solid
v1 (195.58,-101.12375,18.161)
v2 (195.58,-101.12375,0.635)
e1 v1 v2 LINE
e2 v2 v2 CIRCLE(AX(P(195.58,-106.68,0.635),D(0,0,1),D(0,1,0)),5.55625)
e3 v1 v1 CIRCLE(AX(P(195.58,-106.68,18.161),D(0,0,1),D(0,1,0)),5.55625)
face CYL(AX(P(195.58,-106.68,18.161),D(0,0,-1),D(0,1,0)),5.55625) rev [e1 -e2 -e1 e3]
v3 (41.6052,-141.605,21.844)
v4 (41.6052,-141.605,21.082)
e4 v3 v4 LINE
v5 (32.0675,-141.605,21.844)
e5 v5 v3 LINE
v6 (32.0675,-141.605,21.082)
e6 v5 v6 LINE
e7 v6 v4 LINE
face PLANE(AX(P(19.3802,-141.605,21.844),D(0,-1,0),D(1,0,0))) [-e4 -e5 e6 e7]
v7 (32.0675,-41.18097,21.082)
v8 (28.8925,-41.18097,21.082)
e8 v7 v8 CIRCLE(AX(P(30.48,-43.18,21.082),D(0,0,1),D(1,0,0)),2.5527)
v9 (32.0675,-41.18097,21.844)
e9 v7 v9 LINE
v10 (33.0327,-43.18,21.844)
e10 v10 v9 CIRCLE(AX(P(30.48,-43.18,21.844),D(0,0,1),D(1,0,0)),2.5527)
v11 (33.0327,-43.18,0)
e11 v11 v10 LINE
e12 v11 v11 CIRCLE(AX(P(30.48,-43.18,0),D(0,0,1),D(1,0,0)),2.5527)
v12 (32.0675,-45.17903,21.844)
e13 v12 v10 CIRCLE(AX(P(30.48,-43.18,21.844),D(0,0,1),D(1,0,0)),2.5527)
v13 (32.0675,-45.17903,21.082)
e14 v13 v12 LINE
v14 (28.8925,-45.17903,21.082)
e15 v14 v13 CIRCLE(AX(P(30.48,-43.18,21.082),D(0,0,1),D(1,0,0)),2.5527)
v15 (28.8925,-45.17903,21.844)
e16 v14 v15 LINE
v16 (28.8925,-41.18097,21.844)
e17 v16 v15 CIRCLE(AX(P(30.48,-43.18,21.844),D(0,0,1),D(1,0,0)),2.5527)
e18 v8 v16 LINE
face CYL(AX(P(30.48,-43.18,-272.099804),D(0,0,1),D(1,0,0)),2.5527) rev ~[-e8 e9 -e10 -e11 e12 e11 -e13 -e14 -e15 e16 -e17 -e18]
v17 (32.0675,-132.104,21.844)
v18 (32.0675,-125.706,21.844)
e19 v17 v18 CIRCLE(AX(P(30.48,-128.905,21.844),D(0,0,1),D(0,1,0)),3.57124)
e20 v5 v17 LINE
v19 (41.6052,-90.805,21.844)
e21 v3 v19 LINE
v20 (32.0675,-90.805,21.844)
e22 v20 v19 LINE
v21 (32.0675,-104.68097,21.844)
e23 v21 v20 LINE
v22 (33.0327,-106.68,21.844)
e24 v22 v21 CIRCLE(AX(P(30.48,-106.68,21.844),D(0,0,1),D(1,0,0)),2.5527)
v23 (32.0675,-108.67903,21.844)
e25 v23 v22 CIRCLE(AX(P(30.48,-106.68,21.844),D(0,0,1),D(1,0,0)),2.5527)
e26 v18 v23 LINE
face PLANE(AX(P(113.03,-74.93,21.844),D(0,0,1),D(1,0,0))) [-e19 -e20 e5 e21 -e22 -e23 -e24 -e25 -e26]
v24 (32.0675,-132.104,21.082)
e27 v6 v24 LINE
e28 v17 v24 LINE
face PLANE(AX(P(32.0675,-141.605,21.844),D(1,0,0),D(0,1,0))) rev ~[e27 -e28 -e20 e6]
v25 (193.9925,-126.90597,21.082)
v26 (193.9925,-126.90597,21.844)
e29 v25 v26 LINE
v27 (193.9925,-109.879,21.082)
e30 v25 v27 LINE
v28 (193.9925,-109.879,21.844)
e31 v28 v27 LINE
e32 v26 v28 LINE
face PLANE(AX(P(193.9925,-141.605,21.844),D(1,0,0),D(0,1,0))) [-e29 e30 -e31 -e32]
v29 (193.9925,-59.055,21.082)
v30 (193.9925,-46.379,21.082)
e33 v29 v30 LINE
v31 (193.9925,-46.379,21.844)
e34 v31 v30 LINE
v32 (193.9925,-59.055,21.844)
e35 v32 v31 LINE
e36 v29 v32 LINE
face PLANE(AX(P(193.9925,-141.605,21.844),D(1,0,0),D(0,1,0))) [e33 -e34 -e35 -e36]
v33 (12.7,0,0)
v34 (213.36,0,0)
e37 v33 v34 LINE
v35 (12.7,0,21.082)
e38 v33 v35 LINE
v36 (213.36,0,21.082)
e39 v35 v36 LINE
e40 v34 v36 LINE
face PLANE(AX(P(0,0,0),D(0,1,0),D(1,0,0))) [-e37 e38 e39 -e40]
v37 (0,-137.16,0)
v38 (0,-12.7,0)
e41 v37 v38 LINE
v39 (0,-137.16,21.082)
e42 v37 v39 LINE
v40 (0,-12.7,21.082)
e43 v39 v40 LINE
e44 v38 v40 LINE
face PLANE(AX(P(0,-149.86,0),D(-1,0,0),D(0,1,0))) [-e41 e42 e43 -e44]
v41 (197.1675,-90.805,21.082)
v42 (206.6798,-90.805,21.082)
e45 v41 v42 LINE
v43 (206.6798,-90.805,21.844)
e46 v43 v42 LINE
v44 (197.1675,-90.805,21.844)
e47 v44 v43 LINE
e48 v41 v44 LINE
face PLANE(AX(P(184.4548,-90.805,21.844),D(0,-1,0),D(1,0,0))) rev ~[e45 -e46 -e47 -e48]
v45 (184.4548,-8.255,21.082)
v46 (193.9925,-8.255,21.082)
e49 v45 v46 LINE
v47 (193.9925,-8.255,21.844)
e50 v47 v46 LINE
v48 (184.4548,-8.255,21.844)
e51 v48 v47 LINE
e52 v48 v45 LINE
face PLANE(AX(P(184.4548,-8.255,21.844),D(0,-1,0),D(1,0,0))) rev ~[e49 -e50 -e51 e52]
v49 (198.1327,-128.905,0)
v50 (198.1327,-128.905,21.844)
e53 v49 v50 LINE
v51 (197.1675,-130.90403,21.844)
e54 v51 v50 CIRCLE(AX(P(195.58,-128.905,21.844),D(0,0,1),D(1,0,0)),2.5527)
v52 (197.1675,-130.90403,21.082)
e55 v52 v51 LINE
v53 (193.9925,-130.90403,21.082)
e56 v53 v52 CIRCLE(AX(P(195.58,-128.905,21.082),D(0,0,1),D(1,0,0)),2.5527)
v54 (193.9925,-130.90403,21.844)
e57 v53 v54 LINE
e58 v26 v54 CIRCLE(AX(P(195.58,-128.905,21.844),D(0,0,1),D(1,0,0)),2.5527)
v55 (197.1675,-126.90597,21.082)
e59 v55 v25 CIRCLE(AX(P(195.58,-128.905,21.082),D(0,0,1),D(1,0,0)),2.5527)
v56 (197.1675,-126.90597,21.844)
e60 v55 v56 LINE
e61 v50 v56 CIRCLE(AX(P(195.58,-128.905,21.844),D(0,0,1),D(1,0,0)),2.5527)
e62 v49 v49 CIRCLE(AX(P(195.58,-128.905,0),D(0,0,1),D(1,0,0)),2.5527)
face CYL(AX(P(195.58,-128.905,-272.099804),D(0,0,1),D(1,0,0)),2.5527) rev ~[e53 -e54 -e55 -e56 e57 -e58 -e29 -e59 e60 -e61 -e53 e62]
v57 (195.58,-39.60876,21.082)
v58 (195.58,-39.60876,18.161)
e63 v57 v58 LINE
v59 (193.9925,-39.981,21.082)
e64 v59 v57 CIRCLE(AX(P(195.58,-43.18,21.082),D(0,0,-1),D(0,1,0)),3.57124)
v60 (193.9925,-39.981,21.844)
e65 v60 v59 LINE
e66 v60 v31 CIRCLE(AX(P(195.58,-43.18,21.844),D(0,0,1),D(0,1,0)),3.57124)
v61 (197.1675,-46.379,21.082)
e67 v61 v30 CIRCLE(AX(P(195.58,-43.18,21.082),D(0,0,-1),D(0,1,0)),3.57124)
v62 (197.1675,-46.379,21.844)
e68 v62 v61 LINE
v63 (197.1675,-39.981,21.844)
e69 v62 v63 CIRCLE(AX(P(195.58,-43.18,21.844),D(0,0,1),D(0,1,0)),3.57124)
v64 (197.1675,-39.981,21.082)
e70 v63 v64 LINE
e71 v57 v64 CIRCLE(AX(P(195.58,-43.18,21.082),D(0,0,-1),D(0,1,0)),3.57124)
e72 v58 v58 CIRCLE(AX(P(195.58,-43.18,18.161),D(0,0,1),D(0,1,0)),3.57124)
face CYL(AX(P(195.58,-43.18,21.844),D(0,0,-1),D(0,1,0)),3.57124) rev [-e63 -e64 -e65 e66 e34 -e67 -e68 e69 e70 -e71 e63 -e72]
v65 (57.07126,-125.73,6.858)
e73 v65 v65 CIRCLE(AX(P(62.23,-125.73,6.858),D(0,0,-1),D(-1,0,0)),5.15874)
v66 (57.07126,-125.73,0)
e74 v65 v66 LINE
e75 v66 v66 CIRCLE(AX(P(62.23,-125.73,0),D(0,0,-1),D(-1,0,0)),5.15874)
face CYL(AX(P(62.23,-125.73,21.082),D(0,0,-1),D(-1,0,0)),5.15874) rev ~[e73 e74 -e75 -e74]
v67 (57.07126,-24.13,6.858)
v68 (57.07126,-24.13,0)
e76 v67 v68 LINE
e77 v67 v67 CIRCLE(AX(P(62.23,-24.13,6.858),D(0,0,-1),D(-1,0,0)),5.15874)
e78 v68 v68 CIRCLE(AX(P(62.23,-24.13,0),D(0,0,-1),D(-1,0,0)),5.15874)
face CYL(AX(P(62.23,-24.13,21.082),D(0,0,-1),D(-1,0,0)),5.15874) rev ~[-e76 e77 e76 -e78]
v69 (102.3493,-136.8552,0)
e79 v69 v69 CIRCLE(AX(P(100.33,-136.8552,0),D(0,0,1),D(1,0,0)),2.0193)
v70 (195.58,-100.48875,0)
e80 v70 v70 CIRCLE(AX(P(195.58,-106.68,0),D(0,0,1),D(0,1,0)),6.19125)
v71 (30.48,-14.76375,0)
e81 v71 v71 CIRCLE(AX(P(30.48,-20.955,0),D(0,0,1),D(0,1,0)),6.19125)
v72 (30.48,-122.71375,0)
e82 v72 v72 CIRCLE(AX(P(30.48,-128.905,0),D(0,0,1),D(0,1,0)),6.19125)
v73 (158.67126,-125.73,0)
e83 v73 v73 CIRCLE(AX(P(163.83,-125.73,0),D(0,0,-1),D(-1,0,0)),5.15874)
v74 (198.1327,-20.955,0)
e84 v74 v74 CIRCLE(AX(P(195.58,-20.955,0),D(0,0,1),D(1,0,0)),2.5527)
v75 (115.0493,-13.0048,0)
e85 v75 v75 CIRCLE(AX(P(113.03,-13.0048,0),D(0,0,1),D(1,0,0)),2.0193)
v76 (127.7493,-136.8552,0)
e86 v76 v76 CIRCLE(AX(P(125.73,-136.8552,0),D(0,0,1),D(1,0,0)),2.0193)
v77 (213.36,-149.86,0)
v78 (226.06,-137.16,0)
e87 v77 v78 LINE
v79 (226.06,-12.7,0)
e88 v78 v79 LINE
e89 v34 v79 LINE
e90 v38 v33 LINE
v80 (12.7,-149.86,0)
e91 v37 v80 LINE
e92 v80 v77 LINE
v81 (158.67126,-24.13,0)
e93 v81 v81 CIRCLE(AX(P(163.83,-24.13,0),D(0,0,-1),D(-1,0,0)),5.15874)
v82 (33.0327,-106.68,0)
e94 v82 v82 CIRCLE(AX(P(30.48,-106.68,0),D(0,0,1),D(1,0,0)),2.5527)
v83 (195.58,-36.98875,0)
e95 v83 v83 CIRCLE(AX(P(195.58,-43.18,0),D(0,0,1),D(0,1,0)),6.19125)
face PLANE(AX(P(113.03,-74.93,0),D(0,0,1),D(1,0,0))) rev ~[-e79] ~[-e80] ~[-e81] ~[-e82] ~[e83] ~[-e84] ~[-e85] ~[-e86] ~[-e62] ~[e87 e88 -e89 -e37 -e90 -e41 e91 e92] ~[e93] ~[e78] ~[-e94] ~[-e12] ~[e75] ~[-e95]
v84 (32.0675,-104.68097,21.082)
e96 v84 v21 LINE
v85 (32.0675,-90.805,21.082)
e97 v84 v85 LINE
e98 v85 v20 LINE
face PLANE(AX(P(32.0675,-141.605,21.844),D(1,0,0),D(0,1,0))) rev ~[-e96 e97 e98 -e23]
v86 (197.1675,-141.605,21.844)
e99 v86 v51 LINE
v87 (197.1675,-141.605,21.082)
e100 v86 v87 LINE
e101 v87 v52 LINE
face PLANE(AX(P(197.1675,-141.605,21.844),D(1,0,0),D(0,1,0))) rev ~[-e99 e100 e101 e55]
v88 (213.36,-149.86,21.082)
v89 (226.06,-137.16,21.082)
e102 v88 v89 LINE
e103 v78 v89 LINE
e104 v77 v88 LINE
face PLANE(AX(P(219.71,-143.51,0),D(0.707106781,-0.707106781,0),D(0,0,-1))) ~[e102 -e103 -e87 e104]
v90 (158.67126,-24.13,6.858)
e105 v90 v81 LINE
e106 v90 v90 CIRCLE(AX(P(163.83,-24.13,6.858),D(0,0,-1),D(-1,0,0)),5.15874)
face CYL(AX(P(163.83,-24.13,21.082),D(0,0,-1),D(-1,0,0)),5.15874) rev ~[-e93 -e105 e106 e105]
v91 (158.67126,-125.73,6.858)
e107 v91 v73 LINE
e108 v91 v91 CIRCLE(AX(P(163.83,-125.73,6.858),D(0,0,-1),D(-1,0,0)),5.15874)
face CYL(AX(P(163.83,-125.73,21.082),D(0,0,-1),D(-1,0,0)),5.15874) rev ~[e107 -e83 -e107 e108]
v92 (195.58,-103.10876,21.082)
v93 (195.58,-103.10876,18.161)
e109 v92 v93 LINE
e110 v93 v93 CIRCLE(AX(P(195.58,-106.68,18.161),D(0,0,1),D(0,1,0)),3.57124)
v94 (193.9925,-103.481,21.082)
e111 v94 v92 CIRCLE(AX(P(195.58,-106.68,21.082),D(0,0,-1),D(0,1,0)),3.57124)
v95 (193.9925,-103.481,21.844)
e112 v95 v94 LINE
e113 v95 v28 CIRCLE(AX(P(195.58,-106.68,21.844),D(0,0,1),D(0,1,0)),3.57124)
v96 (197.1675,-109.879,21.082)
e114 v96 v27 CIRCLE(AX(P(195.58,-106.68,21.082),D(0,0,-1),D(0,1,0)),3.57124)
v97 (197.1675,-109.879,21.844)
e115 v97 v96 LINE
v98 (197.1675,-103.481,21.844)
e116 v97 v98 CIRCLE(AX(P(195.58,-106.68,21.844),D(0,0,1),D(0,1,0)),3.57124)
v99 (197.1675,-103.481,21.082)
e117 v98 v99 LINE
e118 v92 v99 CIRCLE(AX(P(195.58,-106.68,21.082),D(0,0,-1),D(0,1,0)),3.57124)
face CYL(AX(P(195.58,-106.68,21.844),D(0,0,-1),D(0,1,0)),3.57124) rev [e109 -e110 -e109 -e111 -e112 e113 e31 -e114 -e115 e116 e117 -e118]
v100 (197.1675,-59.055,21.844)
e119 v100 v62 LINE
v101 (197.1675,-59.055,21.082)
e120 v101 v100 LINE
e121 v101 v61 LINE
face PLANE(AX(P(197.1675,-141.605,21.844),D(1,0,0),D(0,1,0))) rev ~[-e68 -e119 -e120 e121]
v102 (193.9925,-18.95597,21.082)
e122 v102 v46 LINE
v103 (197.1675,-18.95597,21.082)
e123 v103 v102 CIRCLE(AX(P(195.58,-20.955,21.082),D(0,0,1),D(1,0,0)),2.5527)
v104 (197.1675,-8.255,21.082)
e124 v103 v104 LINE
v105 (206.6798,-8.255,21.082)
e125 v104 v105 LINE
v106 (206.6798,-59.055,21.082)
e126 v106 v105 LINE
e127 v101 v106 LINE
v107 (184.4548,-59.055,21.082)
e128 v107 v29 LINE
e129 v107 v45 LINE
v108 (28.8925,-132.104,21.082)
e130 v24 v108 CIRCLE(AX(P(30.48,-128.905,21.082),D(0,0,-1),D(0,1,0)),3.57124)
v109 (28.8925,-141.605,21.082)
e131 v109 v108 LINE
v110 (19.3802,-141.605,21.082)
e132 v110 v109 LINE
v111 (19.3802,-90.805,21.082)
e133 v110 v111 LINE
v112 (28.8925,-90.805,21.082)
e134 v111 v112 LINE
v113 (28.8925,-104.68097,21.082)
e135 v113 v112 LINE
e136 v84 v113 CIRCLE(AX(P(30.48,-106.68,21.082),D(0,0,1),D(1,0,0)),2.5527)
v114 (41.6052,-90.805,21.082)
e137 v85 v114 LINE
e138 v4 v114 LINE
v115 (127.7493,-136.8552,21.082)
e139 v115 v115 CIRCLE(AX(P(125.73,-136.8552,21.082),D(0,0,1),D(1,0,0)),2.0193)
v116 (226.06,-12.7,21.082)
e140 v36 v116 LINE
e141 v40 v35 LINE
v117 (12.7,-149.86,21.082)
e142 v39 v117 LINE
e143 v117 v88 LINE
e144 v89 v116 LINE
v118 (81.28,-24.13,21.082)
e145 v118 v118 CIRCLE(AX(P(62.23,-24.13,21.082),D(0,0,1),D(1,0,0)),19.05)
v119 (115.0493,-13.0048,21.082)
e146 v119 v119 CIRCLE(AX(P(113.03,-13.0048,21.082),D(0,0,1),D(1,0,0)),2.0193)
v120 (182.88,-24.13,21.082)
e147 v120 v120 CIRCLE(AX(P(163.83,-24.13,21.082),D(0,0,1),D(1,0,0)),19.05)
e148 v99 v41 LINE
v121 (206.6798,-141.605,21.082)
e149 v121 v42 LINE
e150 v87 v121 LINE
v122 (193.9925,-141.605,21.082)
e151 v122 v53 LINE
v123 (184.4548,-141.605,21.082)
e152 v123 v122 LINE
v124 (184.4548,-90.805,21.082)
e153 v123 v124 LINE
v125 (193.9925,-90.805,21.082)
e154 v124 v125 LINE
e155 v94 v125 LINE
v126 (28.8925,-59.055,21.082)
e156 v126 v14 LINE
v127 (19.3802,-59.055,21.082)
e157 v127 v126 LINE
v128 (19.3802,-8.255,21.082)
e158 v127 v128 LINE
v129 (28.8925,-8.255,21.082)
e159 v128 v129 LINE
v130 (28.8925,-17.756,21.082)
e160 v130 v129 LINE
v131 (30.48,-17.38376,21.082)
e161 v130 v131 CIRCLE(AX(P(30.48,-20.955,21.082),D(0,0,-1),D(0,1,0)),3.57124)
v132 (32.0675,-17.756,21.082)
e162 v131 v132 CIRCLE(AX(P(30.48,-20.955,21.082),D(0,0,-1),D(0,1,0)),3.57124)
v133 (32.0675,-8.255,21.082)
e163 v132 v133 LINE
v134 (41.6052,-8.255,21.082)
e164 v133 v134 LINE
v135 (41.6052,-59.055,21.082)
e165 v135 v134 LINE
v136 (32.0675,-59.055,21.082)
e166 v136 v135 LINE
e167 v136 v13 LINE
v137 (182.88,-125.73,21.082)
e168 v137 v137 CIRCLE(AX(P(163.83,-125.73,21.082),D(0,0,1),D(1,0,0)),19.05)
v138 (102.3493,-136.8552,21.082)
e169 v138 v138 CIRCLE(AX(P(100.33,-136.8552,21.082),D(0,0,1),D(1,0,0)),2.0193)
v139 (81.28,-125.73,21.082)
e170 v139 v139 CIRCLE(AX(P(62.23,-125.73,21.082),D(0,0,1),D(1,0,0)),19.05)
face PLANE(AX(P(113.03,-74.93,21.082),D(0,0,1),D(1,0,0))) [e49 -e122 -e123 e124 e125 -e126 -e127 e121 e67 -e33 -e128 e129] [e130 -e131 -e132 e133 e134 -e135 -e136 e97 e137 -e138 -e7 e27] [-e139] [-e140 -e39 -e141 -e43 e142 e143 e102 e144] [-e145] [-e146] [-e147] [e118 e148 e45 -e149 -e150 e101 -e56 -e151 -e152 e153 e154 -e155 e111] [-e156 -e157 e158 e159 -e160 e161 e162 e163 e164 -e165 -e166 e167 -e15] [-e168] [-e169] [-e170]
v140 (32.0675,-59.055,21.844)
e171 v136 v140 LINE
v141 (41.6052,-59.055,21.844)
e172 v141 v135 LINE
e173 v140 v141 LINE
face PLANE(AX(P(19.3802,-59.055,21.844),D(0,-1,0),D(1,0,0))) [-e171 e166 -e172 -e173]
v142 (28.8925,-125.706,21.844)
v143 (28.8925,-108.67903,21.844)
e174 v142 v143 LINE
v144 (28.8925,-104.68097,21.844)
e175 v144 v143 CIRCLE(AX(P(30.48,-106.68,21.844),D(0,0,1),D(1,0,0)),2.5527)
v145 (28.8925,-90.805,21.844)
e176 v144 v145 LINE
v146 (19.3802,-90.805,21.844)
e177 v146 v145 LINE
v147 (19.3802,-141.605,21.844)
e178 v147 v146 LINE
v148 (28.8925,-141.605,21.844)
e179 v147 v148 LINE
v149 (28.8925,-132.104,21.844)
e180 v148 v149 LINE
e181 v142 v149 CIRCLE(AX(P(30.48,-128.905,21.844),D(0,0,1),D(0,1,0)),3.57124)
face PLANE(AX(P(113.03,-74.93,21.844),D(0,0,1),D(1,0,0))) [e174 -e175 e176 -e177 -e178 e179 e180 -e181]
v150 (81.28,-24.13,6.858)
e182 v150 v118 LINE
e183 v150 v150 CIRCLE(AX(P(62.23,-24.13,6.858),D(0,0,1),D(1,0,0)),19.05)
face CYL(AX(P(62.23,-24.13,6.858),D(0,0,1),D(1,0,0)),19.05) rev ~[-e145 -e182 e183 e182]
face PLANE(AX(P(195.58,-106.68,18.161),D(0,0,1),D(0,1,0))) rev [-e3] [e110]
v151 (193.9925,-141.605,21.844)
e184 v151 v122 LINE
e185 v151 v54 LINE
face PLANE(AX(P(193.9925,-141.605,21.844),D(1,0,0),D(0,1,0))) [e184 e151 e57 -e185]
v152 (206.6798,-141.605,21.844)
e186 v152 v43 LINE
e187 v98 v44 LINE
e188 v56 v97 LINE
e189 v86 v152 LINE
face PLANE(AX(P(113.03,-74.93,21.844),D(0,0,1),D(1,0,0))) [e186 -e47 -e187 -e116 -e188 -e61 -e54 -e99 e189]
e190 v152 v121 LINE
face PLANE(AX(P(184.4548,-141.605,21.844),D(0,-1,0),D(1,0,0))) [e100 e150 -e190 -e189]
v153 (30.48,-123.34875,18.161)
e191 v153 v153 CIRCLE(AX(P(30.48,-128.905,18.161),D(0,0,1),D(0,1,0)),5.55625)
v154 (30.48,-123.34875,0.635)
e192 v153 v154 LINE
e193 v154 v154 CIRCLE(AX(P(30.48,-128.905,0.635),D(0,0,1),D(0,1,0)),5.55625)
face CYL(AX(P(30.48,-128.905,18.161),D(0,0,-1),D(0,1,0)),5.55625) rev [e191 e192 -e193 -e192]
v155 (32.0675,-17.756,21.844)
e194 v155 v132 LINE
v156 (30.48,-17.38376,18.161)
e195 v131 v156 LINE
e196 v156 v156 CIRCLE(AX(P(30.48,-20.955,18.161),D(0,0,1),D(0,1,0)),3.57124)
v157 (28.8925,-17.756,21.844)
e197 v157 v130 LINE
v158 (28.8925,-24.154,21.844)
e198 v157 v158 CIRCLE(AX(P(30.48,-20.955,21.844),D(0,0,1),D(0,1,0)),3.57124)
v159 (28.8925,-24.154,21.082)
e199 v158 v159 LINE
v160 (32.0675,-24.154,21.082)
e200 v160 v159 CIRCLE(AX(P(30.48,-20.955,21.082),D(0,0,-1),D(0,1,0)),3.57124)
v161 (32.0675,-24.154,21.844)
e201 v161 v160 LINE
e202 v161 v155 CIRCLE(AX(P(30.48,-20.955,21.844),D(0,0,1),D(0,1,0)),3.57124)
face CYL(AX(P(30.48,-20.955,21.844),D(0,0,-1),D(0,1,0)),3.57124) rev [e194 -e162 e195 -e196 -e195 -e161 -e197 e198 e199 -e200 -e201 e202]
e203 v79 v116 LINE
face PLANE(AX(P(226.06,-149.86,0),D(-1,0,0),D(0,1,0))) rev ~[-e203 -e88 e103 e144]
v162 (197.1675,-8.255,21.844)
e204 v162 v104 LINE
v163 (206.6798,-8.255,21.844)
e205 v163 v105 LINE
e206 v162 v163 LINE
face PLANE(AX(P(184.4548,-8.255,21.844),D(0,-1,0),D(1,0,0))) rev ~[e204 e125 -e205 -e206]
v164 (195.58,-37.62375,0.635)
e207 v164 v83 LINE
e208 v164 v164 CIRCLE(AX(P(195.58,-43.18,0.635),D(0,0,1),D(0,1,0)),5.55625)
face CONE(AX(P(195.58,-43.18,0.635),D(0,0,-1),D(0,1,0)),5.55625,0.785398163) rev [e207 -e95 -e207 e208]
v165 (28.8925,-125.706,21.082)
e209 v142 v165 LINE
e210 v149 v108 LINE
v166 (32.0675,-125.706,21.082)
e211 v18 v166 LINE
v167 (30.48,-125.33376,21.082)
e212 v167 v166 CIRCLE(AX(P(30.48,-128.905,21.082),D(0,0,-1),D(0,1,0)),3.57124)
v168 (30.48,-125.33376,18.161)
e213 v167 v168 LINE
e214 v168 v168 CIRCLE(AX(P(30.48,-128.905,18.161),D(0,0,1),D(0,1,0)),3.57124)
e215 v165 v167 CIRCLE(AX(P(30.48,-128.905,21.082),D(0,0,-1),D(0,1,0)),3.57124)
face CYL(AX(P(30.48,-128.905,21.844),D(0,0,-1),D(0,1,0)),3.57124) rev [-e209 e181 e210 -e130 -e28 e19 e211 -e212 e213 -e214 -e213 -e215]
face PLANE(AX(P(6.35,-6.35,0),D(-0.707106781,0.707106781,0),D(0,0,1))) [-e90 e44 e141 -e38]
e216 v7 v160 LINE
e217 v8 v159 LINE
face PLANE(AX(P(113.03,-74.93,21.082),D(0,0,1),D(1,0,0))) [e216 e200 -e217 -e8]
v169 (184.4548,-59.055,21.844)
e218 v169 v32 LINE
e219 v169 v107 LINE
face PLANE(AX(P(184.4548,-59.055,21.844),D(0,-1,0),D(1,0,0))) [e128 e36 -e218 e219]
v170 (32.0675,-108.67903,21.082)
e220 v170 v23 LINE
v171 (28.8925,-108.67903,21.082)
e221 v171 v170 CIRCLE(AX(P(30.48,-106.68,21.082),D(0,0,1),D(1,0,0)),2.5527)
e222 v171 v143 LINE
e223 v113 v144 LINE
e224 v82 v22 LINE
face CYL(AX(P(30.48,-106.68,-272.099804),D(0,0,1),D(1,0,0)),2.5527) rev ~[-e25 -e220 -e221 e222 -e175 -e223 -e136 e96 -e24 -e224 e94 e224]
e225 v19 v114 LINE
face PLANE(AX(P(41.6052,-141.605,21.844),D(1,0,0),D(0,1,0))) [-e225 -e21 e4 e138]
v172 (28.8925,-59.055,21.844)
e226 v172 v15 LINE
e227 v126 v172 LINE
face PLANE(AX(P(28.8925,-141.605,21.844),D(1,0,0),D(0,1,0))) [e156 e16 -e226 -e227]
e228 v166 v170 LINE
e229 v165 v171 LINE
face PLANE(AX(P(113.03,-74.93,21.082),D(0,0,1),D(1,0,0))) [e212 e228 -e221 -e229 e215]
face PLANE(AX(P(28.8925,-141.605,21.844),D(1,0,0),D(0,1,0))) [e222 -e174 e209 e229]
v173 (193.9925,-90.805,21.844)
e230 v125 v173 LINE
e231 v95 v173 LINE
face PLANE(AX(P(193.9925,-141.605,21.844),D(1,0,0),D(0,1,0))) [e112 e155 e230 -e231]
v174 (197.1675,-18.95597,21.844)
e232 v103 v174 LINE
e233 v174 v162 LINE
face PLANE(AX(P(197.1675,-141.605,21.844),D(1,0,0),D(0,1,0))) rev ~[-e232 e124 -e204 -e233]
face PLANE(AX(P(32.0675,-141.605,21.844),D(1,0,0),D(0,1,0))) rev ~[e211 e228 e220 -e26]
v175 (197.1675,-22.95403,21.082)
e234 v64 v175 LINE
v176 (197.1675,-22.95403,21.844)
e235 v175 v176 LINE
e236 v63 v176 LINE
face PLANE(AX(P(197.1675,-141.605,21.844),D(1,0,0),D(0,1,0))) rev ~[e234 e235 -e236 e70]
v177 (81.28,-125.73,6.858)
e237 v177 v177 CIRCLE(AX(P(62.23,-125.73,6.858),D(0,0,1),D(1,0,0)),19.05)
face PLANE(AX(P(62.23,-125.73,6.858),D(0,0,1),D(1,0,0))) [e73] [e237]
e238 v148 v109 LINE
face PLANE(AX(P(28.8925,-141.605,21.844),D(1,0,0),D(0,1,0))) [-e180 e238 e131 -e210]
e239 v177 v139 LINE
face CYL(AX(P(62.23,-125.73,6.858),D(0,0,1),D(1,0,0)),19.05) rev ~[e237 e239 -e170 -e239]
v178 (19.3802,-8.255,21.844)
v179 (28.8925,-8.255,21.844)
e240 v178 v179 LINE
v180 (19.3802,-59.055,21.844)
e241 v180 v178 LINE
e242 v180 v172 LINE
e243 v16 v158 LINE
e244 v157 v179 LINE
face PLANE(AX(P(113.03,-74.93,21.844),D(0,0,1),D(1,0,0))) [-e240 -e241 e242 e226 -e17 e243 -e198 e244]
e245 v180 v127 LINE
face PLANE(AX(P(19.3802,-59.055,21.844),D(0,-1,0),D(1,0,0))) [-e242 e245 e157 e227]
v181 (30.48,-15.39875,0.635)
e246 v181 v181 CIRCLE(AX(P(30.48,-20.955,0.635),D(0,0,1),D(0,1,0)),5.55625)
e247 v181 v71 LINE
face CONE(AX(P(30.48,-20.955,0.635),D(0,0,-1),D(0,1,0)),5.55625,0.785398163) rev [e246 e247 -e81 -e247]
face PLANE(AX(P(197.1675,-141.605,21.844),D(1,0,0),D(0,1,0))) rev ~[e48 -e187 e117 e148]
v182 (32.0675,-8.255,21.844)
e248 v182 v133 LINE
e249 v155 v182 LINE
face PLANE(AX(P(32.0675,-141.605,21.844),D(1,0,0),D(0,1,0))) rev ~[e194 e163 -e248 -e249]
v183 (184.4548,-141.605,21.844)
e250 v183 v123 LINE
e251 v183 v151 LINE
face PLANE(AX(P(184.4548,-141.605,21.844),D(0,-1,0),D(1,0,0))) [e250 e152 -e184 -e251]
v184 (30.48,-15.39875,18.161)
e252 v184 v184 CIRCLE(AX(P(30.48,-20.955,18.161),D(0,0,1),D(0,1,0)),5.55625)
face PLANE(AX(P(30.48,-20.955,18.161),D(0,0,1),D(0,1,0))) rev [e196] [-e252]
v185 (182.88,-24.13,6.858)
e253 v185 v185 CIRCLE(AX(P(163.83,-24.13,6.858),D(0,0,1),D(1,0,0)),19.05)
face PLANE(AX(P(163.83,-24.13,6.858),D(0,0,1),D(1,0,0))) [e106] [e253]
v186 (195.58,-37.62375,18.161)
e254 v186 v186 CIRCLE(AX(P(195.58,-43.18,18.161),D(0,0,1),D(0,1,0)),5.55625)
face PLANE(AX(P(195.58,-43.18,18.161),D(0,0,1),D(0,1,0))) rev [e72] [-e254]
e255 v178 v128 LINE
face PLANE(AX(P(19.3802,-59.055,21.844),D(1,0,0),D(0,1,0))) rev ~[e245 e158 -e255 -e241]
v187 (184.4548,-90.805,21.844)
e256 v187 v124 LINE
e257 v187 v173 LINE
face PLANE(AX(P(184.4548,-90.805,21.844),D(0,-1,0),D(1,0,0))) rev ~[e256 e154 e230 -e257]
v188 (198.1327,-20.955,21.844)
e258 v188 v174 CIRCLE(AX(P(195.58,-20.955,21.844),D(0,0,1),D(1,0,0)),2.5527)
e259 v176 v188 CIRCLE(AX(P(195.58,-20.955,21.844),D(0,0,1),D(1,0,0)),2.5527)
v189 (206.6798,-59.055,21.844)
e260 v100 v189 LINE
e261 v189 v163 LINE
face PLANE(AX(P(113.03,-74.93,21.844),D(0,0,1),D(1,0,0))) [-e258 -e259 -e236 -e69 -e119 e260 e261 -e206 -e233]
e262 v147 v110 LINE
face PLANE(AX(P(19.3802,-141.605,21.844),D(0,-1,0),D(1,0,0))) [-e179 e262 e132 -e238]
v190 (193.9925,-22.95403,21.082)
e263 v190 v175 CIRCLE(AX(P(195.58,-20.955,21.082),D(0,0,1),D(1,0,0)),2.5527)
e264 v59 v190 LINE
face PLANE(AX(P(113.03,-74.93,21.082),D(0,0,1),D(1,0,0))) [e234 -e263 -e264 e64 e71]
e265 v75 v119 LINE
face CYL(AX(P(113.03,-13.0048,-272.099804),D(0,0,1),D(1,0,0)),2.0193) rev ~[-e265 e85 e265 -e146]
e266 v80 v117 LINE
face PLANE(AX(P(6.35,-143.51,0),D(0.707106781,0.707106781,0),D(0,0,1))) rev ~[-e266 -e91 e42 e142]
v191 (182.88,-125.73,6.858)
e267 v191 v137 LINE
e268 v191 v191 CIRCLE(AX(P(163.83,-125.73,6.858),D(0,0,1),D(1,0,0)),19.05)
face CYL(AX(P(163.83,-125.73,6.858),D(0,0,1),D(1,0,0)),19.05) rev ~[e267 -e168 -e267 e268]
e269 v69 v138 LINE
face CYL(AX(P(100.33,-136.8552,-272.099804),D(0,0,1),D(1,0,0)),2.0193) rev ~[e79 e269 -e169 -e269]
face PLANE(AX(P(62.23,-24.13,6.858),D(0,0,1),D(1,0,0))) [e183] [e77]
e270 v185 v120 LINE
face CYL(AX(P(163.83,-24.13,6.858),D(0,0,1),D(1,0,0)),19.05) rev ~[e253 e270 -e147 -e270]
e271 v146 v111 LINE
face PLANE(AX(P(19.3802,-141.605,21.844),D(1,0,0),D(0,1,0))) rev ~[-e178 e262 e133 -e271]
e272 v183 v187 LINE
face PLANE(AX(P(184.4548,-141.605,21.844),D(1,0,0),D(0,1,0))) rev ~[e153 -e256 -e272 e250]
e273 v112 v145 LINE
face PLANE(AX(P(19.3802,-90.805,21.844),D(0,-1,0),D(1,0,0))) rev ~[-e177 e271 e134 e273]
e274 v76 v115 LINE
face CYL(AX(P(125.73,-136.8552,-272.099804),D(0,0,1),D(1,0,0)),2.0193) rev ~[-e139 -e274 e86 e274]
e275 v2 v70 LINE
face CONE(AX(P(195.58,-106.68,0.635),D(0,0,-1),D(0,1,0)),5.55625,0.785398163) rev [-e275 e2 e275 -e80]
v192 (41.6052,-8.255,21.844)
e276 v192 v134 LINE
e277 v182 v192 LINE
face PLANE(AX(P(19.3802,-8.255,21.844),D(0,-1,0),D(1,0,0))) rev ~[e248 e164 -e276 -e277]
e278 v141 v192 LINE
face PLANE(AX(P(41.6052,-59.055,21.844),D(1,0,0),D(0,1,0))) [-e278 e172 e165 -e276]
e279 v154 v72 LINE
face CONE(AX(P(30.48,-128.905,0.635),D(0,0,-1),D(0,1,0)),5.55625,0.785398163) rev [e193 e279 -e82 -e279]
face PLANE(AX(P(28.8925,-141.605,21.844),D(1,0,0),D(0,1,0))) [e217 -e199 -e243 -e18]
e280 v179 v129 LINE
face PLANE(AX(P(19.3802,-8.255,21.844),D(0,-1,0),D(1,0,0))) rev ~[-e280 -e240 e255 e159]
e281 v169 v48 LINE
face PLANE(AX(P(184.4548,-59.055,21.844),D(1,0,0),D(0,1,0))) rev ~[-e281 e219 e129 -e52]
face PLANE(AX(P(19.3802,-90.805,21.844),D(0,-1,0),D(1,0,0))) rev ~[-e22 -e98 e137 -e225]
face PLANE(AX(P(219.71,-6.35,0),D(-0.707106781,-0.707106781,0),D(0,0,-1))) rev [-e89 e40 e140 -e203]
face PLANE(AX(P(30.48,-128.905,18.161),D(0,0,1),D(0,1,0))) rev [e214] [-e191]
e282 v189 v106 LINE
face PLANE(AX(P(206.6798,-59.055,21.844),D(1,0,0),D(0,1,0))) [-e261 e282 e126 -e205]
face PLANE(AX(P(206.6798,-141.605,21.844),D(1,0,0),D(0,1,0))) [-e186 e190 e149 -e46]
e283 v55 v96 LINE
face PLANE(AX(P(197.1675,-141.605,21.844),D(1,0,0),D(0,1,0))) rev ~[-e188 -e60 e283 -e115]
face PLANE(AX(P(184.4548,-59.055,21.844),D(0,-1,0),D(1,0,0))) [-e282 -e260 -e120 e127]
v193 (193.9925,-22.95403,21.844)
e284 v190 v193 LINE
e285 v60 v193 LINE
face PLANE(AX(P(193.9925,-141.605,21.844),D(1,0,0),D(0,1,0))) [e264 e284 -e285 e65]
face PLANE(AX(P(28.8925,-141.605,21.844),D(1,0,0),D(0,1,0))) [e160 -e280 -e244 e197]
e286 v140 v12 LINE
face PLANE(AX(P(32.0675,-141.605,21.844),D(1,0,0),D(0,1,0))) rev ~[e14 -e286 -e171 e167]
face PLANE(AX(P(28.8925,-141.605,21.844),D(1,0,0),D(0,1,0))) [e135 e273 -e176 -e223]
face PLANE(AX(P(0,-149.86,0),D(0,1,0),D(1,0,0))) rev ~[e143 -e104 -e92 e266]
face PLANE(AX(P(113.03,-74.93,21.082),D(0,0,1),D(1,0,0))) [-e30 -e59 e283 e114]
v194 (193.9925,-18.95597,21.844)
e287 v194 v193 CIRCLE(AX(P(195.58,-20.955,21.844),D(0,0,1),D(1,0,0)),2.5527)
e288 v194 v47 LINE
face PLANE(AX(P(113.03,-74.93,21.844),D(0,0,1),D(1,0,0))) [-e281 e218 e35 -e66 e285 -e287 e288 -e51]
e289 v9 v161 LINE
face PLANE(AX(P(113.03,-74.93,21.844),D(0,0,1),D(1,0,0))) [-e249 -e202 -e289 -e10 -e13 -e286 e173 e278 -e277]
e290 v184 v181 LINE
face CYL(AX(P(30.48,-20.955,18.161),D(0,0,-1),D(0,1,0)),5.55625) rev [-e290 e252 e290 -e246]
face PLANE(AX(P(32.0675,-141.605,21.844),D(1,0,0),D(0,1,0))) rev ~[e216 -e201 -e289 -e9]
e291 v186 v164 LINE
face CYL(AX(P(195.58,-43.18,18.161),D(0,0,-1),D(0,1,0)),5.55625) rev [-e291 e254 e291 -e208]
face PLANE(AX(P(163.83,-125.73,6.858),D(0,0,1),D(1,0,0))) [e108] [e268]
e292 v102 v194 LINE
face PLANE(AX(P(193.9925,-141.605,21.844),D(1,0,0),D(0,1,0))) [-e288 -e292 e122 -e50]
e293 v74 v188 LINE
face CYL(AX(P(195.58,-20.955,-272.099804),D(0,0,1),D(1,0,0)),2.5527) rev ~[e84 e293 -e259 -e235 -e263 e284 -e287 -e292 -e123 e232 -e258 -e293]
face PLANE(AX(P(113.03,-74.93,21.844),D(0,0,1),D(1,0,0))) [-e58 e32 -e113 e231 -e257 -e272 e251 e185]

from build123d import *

# Parameters (mm, degrees)
SKETCH3_W                                        = 226.06
SKETCH3_H                                        = 149.86
EXTRUDE2_DEPTH                                   = 21.844
SKETCH4_W                                        = 226.06
SKETCH4_H                                        = 149.86
SKETCH4_W_2                                      = 22.225
SKETCH4_H_2                                      = 50.8
EXTRUDE4_DEPTH                                   = 0.762
F_1_4_20_TAPPED_HOLE1_D                          = 5.1054
CBORE_FOR_3_8_SOCKET_HEAD_CAP_SCREW1_D           = 10.31748
CBORE_FOR_3_8_SOCKET_HEAD_CAP_SCREW1_CBORE_D     = 38.1
CBORE_FOR_3_8_SOCKET_HEAD_CAP_SCREW1_CBORE_DEPTH = 14.224
SKETCH17_W                                       = 3.175
SKETCH17_H                                       = 133.35
CUT_EXTRUDE1_DEPTH                               = 0.762
CBORE_FOR_1_4_SOCKET_HEAD_CAP_SCREW1_AT_COUNT    = 2
CBORE_FOR_1_4_SOCKET_HEAD_CAP_SCREW1_AT_PITCH    = 63.5
CBORE_FOR_1_4_SOCKET_HEAD_CAP_SCREW1_2_COUNT     = 2
CBORE_FOR_1_4_SOCKET_HEAD_CAP_SCREW1_2_PITCH     = 186.028991356
CBORE_FOR_1_4_SOCKET_HEAD_CAP_SCREW1_3_COUNT     = 2
CBORE_FOR_1_4_SOCKET_HEAD_CAP_SCREW1_3_PITCH     = 166.589197204
F_10_32_TAPPED_HOLE1_D                           = 4.0386
CHAMFER1_SIZE                                    = 12.7


with BuildPart() as part:
    # Sketch3 → Extrude2 (new body)
    with BuildSketch(Plane.XY):
        with Locations((113.03, -74.93)):
            Rectangle(SKETCH3_W, SKETCH3_H)
    extrude(amount=EXTRUDE2_DEPTH)

    # Sketch4 → Extrude4 (cut)
    with BuildSketch(Plane.XY.offset(21.844)):
        with Locations((113.03, -74.93)):
            Rectangle(SKETCH4_W, SKETCH4_H)
        with Locations((30.4927, -116.205)):
            Rectangle(SKETCH4_W_2, SKETCH4_H_2, mode=Mode.SUBTRACT)
        with Locations((30.4927, -33.655)):
            Rectangle(SKETCH4_W_2, SKETCH4_H_2, mode=Mode.SUBTRACT)
        with Locations((195.5673, -116.205)):
            Rectangle(SKETCH4_W_2, SKETCH4_H_2, mode=Mode.SUBTRACT)
        with Locations((195.5673, -33.655)):
            Rectangle(SKETCH4_W_2, SKETCH4_H_2, mode=Mode.SUBTRACT)
    extrude(amount=-EXTRUDE4_DEPTH, mode=Mode.SUBTRACT)

    # 1/4-20 Tapped Hole1 (through all)
    with Locations(Plane(origin=(0, 0, 0), x_dir=(-1, 0, 0), z_dir=(0, 0, -1))):
        with Locations((-195.58, -20.955), (-195.58, -128.905), (-30.48, -43.18), (-30.48, -106.68)):
            Hole(F_1_4_20_TAPPED_HOLE1_D / 2)

    # CBORE for 3/8 Socket Head Cap Screw1 (through all)
    with Locations(Plane.XY.offset(21.082)):
        with Locations((62.23, -125.73), (163.83, -24.13), (62.23, -24.13), (163.83, -125.73)):
            CounterBoreHole(CBORE_FOR_3_8_SOCKET_HEAD_CAP_SCREW1_D / 2, CBORE_FOR_3_8_SOCKET_HEAD_CAP_SCREW1_CBORE_D / 2, CBORE_FOR_3_8_SOCKET_HEAD_CAP_SCREW1_CBORE_DEPTH)

    # Sketch17 → Cut-Extrude1 (cut)
    with BuildSketch(Plane.XY.offset(21.844)):
        with Locations((195.58, -74.93)):
            Rectangle(SKETCH17_W, SKETCH17_H)
        with Locations((30.48, -74.93)):
            Rectangle(SKETCH17_W, SKETCH17_H)
    extrude(amount=-CUT_EXTRUDE1_DEPTH, mode=Mode.SUBTRACT)

    # Sketch19 → CBORE for 1/4 Socket Head Cap Screw1 (revolve, cut)
    with BuildSketch(Plane(origin=(195.58, -106.68, 0), x_dir=(0, 1, 0), z_dir=(1, 0, 0))):
        Polygon((0, 0), (0, 21.844), (3.57124, 21.844), (3.57124, 18.161), (5.55625, 18.161), (5.55625, 0.635), (6.19125, 0), align=None)
    cbore_for_1_4_socket_head_cap_screw1 = revolve(axis=Axis((195.58, -106.68, -6.35), (0, 0, 1)), mode=Mode.SUBTRACT)

    # CBORE for 1/4 Socket Head Cap Screw1 at: CBORE for 1/4 Socket Head Cap Screw1 ×2
    with Locations(*[(0, i * CBORE_FOR_1_4_SOCKET_HEAD_CAP_SCREW1_AT_PITCH, 0) for i in range(1, CBORE_FOR_1_4_SOCKET_HEAD_CAP_SCREW1_AT_COUNT)]):
        add(cbore_for_1_4_socket_head_cap_screw1, mode=Mode.SUBTRACT)

    # CBORE for 1_4 Socket Head Cap Screw1 2: CBORE for 1/4 Socket Head Cap Screw1 ×2
    with Locations(*[Vector(-0.887496077, 0.460815271, 0) * (i * CBORE_FOR_1_4_SOCKET_HEAD_CAP_SCREW1_2_PITCH) for i in range(1, CBORE_FOR_1_4_SOCKET_HEAD_CAP_SCREW1_2_COUNT)]):
        add(cbore_for_1_4_socket_head_cap_screw1, mode=Mode.SUBTRACT)

    # CBORE for 1_4 Socket Head Cap Screw1 3: CBORE for 1/4 Socket Head Cap Screw1 ×2
    with Locations(*[Vector(-0.991060662, -0.133412012, 0) * (i * CBORE_FOR_1_4_SOCKET_HEAD_CAP_SCREW1_3_PITCH) for i in range(1, CBORE_FOR_1_4_SOCKET_HEAD_CAP_SCREW1_3_COUNT)]):
        add(cbore_for_1_4_socket_head_cap_screw1, mode=Mode.SUBTRACT)

    # #10-32 Tapped Hole1 (through all)
    with Locations(Plane(origin=(0, 0, 0), x_dir=(-1, 0, 0), z_dir=(0, 0, -1))):
        with Locations((-100.33, -136.8552), (-125.73, -136.8552), (-113.03, -13.0048)):
            Hole(F_10_32_TAPPED_HOLE1_D / 2)

    # Chamfer1
    chamfer1_edges = [part.edges().sort_by_distance(p)[0] for p in [
        (0, 0, 10.541),
        (226.06, 0, 10.541),
        (226.06, -149.86, 10.541),
        (0, -149.86, 10.541),
    ]]
    chamfer(chamfer1_edges, length=CHAMFER1_SIZE)


solid = part.part
